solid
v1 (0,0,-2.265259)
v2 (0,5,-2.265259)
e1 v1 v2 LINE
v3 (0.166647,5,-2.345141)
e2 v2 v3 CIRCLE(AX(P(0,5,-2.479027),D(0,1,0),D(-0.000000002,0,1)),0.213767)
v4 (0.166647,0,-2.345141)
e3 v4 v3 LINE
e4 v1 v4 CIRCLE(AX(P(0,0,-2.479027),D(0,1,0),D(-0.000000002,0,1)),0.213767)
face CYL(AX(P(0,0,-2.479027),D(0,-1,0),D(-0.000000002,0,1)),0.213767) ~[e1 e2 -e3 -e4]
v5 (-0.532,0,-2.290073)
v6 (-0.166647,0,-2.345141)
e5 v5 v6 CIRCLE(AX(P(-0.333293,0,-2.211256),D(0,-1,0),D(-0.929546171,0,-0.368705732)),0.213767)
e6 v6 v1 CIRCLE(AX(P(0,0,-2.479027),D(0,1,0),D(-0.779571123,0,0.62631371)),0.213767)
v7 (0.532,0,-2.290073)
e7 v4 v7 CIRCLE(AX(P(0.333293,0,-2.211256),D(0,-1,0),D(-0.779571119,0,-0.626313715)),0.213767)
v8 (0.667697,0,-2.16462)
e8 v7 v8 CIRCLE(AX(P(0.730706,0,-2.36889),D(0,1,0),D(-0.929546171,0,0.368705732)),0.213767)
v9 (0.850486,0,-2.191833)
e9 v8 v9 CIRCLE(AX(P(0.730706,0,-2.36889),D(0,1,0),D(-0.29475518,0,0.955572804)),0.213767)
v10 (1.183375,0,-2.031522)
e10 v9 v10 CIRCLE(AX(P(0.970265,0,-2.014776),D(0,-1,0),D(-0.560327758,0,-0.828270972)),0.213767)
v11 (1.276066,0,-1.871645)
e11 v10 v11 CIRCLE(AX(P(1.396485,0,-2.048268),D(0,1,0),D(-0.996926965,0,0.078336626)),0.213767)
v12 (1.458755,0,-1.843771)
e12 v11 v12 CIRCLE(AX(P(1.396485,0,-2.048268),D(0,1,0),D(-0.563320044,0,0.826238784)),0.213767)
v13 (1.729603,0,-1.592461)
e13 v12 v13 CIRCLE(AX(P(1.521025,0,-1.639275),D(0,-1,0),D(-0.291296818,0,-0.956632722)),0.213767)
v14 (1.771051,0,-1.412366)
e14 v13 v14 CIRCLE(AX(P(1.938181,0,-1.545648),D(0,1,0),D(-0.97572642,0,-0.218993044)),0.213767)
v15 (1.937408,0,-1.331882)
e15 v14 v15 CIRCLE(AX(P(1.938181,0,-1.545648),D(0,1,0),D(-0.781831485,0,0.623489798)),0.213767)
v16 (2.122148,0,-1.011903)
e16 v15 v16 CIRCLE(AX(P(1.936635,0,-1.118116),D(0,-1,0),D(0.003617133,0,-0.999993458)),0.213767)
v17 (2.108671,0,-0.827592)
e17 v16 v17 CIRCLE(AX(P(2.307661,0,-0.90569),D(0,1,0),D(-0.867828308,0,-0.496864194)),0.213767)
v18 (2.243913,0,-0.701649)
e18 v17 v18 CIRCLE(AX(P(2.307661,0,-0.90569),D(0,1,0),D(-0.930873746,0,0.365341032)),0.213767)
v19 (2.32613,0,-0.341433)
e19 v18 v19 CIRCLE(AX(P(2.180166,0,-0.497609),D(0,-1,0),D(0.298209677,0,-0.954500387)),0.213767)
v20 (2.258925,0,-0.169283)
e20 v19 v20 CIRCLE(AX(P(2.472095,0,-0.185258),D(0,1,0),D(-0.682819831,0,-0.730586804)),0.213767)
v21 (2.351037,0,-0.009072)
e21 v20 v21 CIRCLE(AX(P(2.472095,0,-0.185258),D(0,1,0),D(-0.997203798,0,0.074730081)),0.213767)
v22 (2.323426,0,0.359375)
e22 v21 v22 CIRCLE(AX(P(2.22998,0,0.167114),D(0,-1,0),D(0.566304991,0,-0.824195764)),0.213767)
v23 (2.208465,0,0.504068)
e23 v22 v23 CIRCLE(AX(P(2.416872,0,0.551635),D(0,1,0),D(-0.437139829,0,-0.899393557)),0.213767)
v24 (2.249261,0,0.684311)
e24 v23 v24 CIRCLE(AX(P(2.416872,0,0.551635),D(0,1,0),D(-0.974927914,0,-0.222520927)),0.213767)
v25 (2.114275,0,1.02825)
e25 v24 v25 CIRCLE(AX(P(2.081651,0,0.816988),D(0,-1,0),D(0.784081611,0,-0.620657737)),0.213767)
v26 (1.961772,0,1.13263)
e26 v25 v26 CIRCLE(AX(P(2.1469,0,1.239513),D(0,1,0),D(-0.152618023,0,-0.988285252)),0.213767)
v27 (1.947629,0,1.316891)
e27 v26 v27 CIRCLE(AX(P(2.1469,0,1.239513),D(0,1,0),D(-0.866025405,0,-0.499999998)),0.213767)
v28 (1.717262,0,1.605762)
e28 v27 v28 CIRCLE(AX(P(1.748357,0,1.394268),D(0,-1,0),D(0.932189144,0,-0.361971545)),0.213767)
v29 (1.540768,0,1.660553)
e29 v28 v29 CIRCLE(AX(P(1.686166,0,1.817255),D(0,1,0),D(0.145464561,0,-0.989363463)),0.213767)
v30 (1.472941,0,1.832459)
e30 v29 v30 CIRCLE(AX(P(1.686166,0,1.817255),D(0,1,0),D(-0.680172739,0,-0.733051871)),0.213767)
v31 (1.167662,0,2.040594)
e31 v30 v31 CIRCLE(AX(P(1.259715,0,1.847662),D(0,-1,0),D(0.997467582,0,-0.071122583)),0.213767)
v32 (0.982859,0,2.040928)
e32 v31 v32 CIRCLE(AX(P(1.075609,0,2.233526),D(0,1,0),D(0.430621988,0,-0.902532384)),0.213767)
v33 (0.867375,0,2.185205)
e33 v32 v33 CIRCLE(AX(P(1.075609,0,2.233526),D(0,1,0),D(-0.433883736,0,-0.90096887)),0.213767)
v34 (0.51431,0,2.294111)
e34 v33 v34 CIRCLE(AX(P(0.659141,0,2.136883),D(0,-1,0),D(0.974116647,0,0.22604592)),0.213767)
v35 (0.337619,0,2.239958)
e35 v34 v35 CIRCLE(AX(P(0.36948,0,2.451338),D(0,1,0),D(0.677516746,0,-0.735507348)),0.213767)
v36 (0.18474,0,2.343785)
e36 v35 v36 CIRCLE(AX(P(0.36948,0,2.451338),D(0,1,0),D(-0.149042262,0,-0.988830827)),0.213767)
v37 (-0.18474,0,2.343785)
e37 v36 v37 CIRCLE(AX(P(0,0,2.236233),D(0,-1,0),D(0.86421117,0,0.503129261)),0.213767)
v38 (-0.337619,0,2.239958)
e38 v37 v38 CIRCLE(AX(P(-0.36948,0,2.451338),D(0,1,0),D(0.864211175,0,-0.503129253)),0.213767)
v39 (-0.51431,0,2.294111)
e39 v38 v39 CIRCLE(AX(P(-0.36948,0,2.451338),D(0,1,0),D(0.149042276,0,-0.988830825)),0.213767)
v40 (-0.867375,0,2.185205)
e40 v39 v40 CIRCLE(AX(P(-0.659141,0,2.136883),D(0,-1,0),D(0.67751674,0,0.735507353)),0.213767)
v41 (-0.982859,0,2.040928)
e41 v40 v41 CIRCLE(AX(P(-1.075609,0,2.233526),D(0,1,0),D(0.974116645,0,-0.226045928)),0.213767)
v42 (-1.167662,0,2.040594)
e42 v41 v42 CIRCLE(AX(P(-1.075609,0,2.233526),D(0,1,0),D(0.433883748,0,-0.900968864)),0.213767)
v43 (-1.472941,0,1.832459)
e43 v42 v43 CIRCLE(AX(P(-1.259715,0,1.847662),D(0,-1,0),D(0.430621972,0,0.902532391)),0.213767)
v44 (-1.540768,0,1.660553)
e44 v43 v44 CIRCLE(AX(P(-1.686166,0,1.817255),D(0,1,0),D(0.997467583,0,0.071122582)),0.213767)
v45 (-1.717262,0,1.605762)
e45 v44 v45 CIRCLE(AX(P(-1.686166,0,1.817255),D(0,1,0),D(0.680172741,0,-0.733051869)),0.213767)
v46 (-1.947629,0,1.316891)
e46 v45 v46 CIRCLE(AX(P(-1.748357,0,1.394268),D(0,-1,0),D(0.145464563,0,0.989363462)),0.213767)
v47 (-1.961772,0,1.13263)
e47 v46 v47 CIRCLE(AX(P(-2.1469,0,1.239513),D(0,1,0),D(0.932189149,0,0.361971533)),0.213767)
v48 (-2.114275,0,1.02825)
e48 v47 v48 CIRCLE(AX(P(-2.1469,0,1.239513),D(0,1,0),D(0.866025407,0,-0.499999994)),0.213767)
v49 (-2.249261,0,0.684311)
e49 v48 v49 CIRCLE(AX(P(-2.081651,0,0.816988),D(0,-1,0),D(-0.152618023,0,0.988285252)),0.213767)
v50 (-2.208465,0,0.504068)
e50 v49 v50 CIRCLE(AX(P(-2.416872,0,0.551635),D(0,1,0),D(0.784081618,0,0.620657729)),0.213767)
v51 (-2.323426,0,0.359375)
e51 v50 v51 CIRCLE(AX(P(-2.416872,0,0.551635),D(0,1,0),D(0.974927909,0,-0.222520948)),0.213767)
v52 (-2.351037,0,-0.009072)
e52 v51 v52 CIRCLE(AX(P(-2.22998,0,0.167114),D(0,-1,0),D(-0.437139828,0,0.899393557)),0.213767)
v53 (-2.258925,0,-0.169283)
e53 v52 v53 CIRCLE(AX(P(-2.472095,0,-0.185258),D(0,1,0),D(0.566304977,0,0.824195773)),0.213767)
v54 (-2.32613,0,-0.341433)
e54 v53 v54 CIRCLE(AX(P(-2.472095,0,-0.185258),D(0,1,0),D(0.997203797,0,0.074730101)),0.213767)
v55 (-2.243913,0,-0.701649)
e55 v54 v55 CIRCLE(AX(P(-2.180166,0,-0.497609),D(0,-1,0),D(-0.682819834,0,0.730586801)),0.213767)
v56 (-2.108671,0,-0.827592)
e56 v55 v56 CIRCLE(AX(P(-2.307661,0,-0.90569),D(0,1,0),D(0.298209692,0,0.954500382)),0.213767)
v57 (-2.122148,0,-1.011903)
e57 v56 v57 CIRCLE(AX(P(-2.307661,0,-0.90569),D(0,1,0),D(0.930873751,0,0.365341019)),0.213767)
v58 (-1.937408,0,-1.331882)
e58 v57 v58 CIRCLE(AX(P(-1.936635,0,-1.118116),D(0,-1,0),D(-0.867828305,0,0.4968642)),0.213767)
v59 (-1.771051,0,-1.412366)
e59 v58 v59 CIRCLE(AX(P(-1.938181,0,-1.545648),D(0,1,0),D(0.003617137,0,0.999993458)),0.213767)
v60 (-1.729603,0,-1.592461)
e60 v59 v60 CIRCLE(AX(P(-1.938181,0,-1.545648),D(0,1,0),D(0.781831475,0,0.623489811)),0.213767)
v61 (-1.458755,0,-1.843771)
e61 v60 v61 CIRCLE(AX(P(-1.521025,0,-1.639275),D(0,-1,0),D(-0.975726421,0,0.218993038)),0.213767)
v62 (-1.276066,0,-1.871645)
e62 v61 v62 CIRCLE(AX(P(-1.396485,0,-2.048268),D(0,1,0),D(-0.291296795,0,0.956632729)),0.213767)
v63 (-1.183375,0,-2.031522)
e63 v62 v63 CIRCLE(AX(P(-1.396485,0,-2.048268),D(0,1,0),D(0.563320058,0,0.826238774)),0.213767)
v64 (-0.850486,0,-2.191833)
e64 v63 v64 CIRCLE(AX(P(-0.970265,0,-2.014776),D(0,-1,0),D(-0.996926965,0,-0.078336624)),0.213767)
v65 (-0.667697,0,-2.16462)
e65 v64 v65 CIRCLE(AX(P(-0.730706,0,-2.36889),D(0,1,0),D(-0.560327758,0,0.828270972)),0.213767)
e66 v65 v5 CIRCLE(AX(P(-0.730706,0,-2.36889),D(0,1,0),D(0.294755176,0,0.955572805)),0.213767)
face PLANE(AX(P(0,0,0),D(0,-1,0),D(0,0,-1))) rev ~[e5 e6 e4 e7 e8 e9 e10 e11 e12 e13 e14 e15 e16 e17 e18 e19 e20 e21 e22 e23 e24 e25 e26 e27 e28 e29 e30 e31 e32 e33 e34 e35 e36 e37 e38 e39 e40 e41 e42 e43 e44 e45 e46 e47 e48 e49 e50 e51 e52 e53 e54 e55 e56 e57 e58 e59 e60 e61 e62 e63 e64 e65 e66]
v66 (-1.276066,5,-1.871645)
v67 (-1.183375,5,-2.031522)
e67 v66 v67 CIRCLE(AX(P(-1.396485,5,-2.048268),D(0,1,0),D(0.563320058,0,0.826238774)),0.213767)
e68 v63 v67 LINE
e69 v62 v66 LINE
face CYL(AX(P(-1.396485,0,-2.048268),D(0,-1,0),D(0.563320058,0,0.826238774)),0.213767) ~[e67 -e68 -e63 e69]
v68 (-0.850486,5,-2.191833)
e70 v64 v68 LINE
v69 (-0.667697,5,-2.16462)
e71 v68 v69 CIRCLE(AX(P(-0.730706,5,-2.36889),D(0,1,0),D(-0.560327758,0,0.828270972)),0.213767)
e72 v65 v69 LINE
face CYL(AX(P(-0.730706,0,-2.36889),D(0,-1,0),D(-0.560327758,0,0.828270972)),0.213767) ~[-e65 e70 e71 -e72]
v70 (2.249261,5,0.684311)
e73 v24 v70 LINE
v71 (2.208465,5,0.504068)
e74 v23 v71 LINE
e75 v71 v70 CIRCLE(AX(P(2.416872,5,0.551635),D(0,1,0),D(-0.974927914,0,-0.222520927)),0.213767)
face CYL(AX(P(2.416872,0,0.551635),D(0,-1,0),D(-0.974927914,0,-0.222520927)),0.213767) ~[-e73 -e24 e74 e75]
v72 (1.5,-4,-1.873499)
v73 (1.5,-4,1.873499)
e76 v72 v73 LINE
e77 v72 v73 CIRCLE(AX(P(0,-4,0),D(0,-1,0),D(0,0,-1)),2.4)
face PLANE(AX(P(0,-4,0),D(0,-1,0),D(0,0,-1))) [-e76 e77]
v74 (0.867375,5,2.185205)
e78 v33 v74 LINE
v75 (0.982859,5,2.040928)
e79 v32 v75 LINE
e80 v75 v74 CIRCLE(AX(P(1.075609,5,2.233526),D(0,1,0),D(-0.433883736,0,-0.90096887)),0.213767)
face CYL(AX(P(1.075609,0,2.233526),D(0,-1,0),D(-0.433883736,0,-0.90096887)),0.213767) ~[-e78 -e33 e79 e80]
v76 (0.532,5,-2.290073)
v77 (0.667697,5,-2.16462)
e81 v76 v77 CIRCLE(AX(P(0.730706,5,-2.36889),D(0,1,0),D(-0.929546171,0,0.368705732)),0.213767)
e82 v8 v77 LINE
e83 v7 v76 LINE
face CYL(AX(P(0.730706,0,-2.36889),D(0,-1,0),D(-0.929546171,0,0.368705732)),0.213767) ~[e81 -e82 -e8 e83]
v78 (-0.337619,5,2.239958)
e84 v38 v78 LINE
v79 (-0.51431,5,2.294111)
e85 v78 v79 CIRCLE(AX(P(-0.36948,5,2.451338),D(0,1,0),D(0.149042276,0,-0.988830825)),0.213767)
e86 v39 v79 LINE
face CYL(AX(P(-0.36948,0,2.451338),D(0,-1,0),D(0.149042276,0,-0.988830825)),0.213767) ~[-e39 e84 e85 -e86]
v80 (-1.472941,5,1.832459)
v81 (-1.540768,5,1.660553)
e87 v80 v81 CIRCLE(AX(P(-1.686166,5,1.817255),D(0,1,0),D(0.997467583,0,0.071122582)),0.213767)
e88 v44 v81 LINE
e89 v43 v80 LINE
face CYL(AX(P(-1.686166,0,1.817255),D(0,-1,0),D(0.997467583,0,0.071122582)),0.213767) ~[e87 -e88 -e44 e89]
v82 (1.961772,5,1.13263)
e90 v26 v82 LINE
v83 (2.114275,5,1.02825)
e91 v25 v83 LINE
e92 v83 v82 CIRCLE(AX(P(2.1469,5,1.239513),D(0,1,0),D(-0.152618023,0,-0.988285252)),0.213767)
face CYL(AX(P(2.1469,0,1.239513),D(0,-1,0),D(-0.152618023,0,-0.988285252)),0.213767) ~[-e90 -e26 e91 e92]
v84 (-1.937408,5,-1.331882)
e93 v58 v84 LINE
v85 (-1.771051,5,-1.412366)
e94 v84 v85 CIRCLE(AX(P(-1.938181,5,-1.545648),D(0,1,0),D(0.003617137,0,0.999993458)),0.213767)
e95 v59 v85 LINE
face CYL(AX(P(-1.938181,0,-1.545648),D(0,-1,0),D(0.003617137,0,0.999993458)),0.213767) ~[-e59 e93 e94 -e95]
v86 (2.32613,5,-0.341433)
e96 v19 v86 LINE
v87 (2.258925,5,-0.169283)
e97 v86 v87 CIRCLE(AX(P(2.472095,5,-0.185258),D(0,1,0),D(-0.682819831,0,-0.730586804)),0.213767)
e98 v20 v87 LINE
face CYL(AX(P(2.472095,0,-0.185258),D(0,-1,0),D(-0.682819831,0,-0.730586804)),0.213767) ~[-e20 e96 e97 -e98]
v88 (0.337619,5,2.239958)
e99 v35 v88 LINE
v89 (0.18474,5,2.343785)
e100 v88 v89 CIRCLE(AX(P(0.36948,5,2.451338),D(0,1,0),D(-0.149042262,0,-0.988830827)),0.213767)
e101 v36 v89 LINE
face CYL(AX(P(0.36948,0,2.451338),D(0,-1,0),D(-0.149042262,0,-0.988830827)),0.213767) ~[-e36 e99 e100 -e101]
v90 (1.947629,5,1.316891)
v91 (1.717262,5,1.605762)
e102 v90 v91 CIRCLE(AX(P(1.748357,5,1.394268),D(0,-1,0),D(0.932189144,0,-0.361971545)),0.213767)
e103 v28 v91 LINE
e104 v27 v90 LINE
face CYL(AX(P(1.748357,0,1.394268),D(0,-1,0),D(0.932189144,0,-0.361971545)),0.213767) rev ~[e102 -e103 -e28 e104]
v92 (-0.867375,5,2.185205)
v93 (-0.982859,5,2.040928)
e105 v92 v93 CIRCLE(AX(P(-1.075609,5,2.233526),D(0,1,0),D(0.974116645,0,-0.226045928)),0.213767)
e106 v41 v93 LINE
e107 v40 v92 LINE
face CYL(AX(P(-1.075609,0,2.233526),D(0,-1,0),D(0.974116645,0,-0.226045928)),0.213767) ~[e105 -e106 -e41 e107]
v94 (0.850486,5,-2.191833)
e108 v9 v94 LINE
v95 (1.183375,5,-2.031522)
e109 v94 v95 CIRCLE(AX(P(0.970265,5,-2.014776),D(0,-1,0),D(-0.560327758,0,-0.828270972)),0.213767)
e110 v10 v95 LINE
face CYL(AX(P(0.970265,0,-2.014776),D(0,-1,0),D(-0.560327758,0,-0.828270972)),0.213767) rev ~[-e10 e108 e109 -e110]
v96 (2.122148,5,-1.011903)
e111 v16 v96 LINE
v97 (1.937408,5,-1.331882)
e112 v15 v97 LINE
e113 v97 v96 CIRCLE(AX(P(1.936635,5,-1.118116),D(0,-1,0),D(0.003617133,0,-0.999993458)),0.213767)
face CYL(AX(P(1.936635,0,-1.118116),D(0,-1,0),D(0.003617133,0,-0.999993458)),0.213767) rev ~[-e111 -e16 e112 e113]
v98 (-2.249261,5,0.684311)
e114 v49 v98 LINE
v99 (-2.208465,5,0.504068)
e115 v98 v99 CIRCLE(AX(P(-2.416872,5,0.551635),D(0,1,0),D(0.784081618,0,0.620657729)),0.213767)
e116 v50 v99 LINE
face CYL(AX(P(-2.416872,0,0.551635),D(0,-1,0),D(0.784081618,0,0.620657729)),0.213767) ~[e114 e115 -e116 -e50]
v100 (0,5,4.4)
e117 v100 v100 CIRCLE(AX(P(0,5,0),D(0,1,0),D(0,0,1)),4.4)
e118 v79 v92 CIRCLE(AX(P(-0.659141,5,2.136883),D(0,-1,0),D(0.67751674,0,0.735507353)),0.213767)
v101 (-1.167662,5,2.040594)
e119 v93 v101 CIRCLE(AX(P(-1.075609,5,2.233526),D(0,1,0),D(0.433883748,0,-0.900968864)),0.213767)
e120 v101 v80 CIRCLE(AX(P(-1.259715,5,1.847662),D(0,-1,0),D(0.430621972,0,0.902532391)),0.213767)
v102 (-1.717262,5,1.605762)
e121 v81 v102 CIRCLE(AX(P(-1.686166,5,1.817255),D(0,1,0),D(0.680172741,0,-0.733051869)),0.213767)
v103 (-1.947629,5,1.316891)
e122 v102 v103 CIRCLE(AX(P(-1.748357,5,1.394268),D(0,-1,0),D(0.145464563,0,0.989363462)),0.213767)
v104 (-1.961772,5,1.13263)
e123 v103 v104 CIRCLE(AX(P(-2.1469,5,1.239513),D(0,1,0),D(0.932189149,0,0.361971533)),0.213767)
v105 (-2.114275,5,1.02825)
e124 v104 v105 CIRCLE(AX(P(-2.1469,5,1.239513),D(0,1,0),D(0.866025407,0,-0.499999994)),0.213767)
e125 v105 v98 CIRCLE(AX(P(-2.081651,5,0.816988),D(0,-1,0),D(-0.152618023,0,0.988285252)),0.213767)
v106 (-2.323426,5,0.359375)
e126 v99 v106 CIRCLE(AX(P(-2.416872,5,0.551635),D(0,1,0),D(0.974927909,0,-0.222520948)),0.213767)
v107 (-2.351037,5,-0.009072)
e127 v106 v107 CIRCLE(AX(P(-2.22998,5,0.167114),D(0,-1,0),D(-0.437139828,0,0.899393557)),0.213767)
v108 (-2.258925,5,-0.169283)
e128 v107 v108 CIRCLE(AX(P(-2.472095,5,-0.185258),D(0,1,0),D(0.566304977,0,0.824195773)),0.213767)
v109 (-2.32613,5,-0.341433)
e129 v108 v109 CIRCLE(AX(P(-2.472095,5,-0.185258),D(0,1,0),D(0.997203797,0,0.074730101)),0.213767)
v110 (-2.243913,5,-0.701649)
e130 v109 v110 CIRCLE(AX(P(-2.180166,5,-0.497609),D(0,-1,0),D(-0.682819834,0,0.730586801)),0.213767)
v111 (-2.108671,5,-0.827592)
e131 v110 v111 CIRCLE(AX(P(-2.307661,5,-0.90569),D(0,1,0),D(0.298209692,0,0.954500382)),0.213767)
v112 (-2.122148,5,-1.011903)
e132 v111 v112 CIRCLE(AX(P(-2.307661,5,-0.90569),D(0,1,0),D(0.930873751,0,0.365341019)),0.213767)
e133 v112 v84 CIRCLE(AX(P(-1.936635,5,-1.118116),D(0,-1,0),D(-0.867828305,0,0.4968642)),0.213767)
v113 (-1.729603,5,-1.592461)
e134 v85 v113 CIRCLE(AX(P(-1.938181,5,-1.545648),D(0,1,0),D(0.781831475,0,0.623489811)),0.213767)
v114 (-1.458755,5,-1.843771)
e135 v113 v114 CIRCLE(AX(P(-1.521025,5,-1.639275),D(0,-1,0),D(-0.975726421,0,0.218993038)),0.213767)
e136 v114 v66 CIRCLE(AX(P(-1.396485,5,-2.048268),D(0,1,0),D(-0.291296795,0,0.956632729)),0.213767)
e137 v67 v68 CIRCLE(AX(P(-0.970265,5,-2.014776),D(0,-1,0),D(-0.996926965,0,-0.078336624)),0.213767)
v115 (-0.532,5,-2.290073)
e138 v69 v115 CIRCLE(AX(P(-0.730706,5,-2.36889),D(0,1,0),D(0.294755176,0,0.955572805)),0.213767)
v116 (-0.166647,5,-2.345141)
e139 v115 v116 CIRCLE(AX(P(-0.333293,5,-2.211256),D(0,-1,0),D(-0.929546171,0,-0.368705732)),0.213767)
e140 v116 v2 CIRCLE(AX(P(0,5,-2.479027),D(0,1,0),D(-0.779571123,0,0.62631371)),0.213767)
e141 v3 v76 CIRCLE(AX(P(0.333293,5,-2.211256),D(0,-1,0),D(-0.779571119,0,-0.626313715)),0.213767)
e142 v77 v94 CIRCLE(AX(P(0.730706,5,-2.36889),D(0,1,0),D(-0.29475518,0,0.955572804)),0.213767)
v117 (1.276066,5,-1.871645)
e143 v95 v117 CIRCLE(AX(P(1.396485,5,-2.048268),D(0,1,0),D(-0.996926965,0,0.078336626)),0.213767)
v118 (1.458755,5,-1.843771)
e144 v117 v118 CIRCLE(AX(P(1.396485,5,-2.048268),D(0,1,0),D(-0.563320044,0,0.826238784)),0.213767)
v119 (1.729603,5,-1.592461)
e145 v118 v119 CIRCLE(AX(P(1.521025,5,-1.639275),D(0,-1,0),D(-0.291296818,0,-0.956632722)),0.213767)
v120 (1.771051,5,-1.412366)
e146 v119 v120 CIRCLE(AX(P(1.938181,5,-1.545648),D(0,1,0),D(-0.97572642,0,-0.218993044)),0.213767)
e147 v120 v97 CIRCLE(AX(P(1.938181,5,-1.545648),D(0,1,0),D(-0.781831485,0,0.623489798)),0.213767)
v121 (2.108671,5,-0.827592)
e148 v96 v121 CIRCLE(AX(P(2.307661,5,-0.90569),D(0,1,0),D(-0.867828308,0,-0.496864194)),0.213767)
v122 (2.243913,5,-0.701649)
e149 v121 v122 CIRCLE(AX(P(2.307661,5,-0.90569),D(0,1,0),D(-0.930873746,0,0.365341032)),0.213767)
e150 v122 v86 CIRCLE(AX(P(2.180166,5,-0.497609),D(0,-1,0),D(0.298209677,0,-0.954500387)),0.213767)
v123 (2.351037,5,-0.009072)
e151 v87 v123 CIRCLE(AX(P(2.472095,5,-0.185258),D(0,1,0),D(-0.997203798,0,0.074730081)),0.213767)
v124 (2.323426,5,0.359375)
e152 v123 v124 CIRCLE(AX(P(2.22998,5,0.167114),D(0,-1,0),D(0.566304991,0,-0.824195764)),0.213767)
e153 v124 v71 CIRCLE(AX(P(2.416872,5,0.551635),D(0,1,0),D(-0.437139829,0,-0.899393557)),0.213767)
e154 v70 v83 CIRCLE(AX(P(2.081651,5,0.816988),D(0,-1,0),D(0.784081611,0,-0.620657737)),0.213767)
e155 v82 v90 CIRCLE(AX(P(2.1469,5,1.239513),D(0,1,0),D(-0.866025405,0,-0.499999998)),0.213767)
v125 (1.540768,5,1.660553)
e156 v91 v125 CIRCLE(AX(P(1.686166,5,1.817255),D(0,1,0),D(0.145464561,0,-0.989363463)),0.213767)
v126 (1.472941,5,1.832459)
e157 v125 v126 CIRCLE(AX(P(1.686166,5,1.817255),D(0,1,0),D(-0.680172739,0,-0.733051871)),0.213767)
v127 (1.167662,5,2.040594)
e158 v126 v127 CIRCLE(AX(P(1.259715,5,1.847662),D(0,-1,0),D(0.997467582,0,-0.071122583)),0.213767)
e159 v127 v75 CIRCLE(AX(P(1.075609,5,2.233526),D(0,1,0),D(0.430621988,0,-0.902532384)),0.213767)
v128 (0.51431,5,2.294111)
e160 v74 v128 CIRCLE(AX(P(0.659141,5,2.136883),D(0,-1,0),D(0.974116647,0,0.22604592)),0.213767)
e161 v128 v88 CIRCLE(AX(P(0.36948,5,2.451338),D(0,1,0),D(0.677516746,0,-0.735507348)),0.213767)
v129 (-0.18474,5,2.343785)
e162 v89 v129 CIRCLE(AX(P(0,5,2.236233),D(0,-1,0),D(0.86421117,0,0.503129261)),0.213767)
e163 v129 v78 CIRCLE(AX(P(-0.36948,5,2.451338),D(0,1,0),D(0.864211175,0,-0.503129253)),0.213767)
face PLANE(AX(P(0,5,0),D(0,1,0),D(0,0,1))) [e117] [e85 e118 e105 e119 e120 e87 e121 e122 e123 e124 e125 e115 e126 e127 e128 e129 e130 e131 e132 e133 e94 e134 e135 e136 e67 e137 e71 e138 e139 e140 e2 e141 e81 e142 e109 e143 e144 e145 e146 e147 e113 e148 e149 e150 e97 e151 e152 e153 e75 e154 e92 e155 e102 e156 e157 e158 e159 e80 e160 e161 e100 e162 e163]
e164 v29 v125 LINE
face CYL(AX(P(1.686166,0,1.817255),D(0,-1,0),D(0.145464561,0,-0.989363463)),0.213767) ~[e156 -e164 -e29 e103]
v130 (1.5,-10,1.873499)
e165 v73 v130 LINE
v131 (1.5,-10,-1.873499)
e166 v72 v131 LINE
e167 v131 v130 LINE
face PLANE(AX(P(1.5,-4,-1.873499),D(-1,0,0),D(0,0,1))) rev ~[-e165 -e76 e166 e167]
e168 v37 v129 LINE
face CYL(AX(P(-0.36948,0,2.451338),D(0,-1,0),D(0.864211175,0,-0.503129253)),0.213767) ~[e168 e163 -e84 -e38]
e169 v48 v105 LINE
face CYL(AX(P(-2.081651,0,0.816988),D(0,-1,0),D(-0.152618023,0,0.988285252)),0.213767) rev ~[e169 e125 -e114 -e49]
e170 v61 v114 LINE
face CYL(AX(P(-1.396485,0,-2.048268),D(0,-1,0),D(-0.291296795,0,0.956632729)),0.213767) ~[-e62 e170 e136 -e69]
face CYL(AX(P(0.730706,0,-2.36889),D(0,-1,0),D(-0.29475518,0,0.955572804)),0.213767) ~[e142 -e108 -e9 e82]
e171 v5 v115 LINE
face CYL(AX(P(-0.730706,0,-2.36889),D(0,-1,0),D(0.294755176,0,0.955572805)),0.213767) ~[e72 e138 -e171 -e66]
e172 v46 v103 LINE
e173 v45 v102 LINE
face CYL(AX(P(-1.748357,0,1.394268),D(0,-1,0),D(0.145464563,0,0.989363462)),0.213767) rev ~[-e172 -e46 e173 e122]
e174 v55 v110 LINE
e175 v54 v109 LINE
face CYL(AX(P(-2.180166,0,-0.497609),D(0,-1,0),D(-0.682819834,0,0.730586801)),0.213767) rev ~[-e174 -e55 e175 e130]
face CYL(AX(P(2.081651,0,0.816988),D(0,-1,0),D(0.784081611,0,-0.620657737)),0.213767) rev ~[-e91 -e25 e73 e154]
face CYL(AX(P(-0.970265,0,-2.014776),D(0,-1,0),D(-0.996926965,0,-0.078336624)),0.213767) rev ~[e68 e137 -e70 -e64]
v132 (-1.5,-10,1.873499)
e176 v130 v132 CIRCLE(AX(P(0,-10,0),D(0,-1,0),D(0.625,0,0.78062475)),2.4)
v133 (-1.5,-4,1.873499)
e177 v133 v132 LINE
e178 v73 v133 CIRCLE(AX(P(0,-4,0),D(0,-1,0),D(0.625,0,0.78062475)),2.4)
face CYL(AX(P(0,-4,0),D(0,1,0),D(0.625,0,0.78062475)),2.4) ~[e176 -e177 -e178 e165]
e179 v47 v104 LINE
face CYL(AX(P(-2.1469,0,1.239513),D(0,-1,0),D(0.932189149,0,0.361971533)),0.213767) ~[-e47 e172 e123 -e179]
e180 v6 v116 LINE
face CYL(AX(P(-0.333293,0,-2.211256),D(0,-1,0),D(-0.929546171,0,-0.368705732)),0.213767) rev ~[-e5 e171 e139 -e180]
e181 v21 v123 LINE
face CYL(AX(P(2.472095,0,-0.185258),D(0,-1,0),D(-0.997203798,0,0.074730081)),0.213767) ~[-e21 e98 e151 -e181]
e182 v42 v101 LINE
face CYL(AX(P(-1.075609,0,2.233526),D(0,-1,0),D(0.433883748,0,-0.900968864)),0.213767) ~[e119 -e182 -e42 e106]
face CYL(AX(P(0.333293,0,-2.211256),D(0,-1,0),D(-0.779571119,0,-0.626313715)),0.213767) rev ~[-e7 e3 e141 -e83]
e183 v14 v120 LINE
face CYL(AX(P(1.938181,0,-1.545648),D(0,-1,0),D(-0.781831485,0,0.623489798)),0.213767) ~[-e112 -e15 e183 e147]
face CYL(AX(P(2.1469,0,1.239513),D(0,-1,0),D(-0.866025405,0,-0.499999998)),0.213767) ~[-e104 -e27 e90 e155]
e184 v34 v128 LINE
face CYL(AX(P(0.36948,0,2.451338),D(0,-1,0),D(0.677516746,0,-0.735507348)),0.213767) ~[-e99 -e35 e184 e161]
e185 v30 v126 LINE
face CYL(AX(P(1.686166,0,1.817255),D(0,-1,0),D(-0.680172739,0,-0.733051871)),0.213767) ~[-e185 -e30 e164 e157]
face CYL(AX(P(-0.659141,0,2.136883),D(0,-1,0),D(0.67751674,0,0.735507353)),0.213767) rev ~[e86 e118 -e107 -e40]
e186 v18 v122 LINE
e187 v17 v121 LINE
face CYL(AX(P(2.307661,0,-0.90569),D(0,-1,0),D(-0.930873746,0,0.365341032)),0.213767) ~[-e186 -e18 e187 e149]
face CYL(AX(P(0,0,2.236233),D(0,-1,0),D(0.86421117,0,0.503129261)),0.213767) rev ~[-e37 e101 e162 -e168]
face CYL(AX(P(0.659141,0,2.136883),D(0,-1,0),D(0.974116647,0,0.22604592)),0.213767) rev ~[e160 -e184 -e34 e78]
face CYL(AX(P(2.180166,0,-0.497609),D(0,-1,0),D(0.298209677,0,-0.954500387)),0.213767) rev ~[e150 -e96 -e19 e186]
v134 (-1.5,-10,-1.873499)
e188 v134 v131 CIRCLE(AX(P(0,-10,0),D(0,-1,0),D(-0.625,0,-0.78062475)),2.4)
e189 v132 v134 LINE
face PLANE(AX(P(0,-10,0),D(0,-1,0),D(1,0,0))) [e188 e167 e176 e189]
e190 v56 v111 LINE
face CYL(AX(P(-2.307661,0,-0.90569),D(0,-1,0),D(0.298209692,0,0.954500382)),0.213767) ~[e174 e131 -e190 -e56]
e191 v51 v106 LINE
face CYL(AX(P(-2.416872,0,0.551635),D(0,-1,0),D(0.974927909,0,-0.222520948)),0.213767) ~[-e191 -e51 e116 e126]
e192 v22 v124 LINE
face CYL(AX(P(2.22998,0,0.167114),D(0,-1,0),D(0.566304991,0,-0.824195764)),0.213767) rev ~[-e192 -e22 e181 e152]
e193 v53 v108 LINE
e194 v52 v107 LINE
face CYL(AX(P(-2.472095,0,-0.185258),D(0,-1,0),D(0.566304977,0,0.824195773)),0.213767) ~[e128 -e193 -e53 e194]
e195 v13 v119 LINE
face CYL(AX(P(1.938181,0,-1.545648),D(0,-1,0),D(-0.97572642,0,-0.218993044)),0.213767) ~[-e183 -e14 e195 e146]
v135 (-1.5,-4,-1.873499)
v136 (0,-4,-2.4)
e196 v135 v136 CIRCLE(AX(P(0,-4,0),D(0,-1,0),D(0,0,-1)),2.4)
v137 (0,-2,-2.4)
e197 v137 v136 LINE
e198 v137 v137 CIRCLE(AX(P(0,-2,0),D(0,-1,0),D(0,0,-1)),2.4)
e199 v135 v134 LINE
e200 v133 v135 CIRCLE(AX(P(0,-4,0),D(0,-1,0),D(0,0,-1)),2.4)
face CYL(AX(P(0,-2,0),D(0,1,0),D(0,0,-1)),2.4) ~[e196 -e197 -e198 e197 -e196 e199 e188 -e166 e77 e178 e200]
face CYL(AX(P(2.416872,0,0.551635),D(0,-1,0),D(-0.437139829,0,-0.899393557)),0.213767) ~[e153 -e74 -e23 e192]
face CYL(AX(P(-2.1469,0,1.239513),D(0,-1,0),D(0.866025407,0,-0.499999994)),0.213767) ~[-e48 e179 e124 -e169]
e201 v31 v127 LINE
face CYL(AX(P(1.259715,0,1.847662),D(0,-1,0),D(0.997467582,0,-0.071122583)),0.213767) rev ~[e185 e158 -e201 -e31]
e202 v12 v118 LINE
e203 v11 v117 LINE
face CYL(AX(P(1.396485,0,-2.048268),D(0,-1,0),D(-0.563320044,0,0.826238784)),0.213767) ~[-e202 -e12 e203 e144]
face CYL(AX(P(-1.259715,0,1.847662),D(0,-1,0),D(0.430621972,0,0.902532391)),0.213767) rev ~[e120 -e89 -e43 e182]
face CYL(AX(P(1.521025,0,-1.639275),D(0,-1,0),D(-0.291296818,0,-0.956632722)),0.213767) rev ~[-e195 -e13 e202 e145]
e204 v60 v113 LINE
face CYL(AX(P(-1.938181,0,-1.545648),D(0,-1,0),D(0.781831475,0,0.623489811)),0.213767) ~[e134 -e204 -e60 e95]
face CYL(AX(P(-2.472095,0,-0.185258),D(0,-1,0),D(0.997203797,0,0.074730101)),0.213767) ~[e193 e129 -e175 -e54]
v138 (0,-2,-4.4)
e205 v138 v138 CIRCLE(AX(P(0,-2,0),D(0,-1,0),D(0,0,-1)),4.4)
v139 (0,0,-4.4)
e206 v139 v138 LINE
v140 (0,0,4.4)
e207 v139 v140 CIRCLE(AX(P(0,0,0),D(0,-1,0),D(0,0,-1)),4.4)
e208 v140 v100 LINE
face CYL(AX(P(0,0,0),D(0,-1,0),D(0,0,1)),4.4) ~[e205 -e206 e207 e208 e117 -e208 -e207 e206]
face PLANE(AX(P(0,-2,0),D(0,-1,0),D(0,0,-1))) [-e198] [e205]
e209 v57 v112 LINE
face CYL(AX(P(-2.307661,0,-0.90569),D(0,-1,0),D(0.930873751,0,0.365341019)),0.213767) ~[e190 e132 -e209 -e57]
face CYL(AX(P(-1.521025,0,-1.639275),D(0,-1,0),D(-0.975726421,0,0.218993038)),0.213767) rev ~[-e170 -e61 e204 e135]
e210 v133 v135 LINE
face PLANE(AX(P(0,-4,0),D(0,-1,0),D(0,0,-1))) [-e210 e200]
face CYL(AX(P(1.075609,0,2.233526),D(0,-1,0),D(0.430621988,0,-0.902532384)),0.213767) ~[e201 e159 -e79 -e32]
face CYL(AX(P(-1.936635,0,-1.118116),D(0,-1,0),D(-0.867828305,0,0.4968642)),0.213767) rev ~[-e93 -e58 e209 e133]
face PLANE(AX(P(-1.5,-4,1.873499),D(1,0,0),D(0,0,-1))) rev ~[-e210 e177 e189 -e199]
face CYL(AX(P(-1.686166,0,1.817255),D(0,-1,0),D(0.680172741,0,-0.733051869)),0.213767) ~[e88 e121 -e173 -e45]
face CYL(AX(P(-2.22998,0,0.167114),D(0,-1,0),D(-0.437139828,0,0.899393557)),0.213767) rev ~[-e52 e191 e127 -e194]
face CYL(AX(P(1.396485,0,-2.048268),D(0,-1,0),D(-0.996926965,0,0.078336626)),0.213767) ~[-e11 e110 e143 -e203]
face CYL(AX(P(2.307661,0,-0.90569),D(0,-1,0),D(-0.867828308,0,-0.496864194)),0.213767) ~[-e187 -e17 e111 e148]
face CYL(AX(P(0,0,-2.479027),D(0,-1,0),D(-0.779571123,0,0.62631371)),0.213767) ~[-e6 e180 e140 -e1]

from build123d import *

# Parameters (mm, degrees)
SKETCH1_R           = 3.95
BOSS_EXTRUDE1_DEPTH = 5
SKETCH2_R           = 4.4
BOSS_EXTRUDE2_DEPTH = 2
SKETCH4_R           = 2.4
BOSS_EXTRUDE3_DEPTH = 2
BOSS_EXTRUDE4_DEPTH = 6
SKETCH6_R           = 4.4
SKETCH6_R_2         = 3.95
BOSS_EXTRUDE5_DEPTH = 5


with BuildPart() as part:
    # Sketch1 → Boss-Extrude1 (new body)
    with BuildSketch(Plane(origin=(0, 0, 0), x_dir=(1, 0, 0), z_dir=(0, 1, 0))):
        with Locations(Location((0, 0, 0), (0, 0, 270))):
            Circle(SKETCH1_R)
        with BuildLine():
            ThreePointArc((-0.166646614, 2.345141313), (-0.092401566, 2.286261662), (0, 2.2652595))
            ThreePointArc((0, 2.2652595), (0.092401566, 2.286261662), (0.166646614, 2.345141313))
            ThreePointArc((0.166646614, 2.345141313), (0.365153552, 2.422635524), (0.531999564, 2.290073216))
            ThreePointArc((0.531999564, 2.290073216), (0.585591031, 2.211925311), (0.667696959, 2.164620376))
            ThreePointArc((0.667696959, 2.164620376), (0.762183879, 2.157453631), (0.850485509, 2.191833312))
            ThreePointArc((0.850485509, 2.191833312), (1.063015161, 2.207373726), (1.183375246, 2.031522064))
            ThreePointArc((1.183375246, 2.031522064), (1.211551295, 1.941049689), (1.276066113, 1.871645232))
            ThreePointArc((1.276066113, 1.871645232), (1.364242809, 1.836946378), (1.458755034, 1.843771303))
            ThreePointArc((1.458755034, 1.843771303), (1.666423208, 1.795977086), (1.729602845, 1.592461261))
            ThreePointArc((1.729602845, 1.592461261), (1.72985991, 1.497703284), (1.771051193, 1.412366197))
            ThreePointArc((1.771051193, 1.412366197), (1.845082779, 1.353218377), (1.937407773, 1.331882123))
            ThreePointArc((1.937407773, 1.331882123), (2.121762239, 1.225), (2.12214764, 1.011903287))
            ThreePointArc((2.12214764, 1.011903287), (2.094462881, 0.92127937), (2.108670602, 0.827592226))
            ThreePointArc((2.108670602, 0.827592226), (2.161979047, 0.749250985), (2.243913329, 0.701649371))
            ThreePointArc((2.243913329, 0.701649371), (2.388573385, 0.545176288), (2.326130305, 0.341433266))
            ThreePointArc((2.326130305, 0.341433266), (2.272963633, 0.262995741), (2.258925375, 0.169283054))
            ThreePointArc((2.258925375, 0.169283054), (2.286773988, 0.078709355), (2.351037339, 0.009071994))
            ThreePointArc((2.351037339, 0.009071994), (2.443149303, -0.183088729), (2.323426084, -0.3593746))
            ThreePointArc((2.323426084, -0.3593746), (2.249501592, -0.418656214), (2.208464714, -0.504067659))
            ThreePointArc((2.208464714, -0.504067659), (2.208379026, -0.598825947), (2.249261363, -0.68431147))
            ThreePointArc((2.249261363, -0.68431147), (2.280640684, -0.89508551), (2.114275259, -1.028250455))
            ThreePointArc((2.114275259, -1.028250455), (2.026161462, -1.063108727), (1.961772273, -1.13262975))
            ThreePointArc((1.961772273, -1.13262975), (1.933759896, -1.223152935), (1.947628645, -1.316890857))
            ThreePointArc((1.947628645, -1.316890857), (1.915487132, -1.527550015), (1.717261799, -1.605761745))
            ThreePointArc((1.717261799, -1.605761745), (1.622787995, -1.613099364), (1.540767756, -1.660552716))
            ThreePointArc((1.540767756, -1.660552716), (1.487317713, -1.738797417), (1.472940575, -1.832458712))
            ThreePointArc((1.472940575, -1.832458712), (1.380134142, -2.024284997), (1.167662092, -2.040594058))
            ThreePointArc((1.167662092, -2.040594058), (1.075222693, -2.019759044), (0.982859262, -2.040928287))
            ThreePointArc((0.982859262, -2.040928287), (0.908720824, -2.099942118), (0.86737527, -2.185204569))
            ThreePointArc((0.86737527, -2.185204569), (0.722150177, -2.341153374), (0.514310485, -2.294110633))
            ThreePointArc((0.514310485, -2.294110633), (0.432119136, -2.246954269), (0.337619409, -2.239958423))
            ThreePointArc((0.337619409, -2.239958423), (0.249380102, -2.274497747), (0.184739867, -2.343785411))
            ThreePointArc((0.184739867, -2.343785411), (0, -2.45), (-0.184739867, -2.343785411))
            ThreePointArc((-0.184739867, -2.343785411), (-0.249380102, -2.274497747), (-0.337619409, -2.239958423))
            ThreePointArc((-0.337619409, -2.239958423), (-0.432119136, -2.246954269), (-0.514310485, -2.294110633))
            ThreePointArc((-0.514310485, -2.294110633), (-0.722150177, -2.341153374), (-0.86737527, -2.185204569))
            ThreePointArc((-0.86737527, -2.185204569), (-0.908720824, -2.099942118), (-0.982859262, -2.040928287))
            ThreePointArc((-0.982859262, -2.040928287), (-1.075222693, -2.019759044), (-1.167662092, -2.040594058))
            ThreePointArc((-1.167662092, -2.040594058), (-1.380134142, -2.024284997), (-1.472940575, -1.832458712))
            ThreePointArc((-1.472940575, -1.832458712), (-1.487317713, -1.738797417), (-1.540767756, -1.660552716))
            ThreePointArc((-1.540767756, -1.660552716), (-1.622787995, -1.613099364), (-1.717261799, -1.605761745))
            ThreePointArc((-1.717261799, -1.605761745), (-1.915487132, -1.527550015), (-1.947628645, -1.316890857))
            ThreePointArc((-1.947628645, -1.316890857), (-1.933759896, -1.223152935), (-1.961772273, -1.13262975))
            ThreePointArc((-1.961772273, -1.13262975), (-2.026161462, -1.063108727), (-2.114275259, -1.028250455))
            ThreePointArc((-2.114275259, -1.028250455), (-2.280640684, -0.89508551), (-2.249261363, -0.68431147))
            ThreePointArc((-2.249261363, -0.68431147), (-2.208379026, -0.598825947), (-2.208464714, -0.504067659))
            ThreePointArc((-2.208464714, -0.504067659), (-2.249501592, -0.418656214), (-2.323426084, -0.3593746))
            ThreePointArc((-2.323426084, -0.3593746), (-2.443149303, -0.183088729), (-2.351037339, 0.009071994))
            ThreePointArc((-2.351037339, 0.009071994), (-2.286773988, 0.078709355), (-2.258925375, 0.169283054))
            ThreePointArc((-2.258925375, 0.169283054), (-2.272963633, 0.262995741), (-2.326130305, 0.341433266))
            ThreePointArc((-2.326130305, 0.341433266), (-2.388573385, 0.545176288), (-2.243913329, 0.701649371))
            ThreePointArc((-2.243913329, 0.701649371), (-2.161979047, 0.749250985), (-2.108670602, 0.827592226))
            ThreePointArc((-2.108670602, 0.827592226), (-2.094462881, 0.92127937), (-2.12214764, 1.011903287))
            ThreePointArc((-2.12214764, 1.011903287), (-2.121762239, 1.225), (-1.937407773, 1.331882123))
            ThreePointArc((-1.937407773, 1.331882123), (-1.845082779, 1.353218377), (-1.771051193, 1.412366197))
            ThreePointArc((-1.771051193, 1.412366197), (-1.72985991, 1.497703284), (-1.729602845, 1.592461261))
            ThreePointArc((-1.729602845, 1.592461261), (-1.666423208, 1.795977086), (-1.458755034, 1.843771303))
            ThreePointArc((-1.458755034, 1.843771303), (-1.364242809, 1.836946378), (-1.276066113, 1.871645232))
            ThreePointArc((-1.276066113, 1.871645232), (-1.211551295, 1.941049689), (-1.183375246, 2.031522064))
            ThreePointArc((-1.183375246, 2.031522064), (-1.063015161, 2.207373726), (-0.850485509, 2.191833312))
            ThreePointArc((-0.850485509, 2.191833312), (-0.762183879, 2.157453631), (-0.667696959, 2.164620376))
            ThreePointArc((-0.667696959, 2.164620376), (-0.585591031, 2.211925311), (-0.531999564, 2.290073216))
            ThreePointArc((-0.531999564, 2.290073216), (-0.365153552, 2.422635524), (-0.166646614, 2.345141313))
        make_face(mode=Mode.SUBTRACT)
    extrude(amount=BOSS_EXTRUDE1_DEPTH)

    # Sketch2 → Boss-Extrude2 (add)
    with BuildSketch(Plane.XZ):
        with Locations(Location((0, 0, 0), (0, 0, 270))):
            Circle(SKETCH2_R)
    extrude(amount=BOSS_EXTRUDE2_DEPTH)

    # Sketch4 → Boss-Extrude3 (add)
    with BuildSketch(Plane.XZ.offset(2)):
        with Locations(Location((0, 0, 0), (0, 0, 270))):
            Circle(SKETCH4_R)
    extrude(amount=BOSS_EXTRUDE3_DEPTH)

    # Sketch5 → Boss-Extrude4 (add)
    with BuildSketch(Plane.XZ.offset(4)):
        with BuildLine():
            ThreePointArc((1.5, 1.8734994), (0, 2.4), (-1.5, 1.8734994))
            Line((-1.5, 1.8734994), (-1.5, -1.8734994))
            ThreePointArc((-1.5, -1.8734994), (0, -2.4), (1.5, -1.8734994))
            Line((1.5, -1.8734994), (1.5, 1.8734994))
        make_face()
    extrude(amount=BOSS_EXTRUDE4_DEPTH)

    # Sketch6 → Boss-Extrude5 (add)
    with BuildSketch(Plane(origin=(0, 0, 0), x_dir=(1, 0, 0), z_dir=(0, 1, 0))):
        with Locations(Location((0, 0, 0), (0, 0, 270))):
            Circle(SKETCH6_R)
        Circle(SKETCH6_R_2, mode=Mode.SUBTRACT)
    extrude(amount=BOSS_EXTRUDE5_DEPTH)


solid = part.part
